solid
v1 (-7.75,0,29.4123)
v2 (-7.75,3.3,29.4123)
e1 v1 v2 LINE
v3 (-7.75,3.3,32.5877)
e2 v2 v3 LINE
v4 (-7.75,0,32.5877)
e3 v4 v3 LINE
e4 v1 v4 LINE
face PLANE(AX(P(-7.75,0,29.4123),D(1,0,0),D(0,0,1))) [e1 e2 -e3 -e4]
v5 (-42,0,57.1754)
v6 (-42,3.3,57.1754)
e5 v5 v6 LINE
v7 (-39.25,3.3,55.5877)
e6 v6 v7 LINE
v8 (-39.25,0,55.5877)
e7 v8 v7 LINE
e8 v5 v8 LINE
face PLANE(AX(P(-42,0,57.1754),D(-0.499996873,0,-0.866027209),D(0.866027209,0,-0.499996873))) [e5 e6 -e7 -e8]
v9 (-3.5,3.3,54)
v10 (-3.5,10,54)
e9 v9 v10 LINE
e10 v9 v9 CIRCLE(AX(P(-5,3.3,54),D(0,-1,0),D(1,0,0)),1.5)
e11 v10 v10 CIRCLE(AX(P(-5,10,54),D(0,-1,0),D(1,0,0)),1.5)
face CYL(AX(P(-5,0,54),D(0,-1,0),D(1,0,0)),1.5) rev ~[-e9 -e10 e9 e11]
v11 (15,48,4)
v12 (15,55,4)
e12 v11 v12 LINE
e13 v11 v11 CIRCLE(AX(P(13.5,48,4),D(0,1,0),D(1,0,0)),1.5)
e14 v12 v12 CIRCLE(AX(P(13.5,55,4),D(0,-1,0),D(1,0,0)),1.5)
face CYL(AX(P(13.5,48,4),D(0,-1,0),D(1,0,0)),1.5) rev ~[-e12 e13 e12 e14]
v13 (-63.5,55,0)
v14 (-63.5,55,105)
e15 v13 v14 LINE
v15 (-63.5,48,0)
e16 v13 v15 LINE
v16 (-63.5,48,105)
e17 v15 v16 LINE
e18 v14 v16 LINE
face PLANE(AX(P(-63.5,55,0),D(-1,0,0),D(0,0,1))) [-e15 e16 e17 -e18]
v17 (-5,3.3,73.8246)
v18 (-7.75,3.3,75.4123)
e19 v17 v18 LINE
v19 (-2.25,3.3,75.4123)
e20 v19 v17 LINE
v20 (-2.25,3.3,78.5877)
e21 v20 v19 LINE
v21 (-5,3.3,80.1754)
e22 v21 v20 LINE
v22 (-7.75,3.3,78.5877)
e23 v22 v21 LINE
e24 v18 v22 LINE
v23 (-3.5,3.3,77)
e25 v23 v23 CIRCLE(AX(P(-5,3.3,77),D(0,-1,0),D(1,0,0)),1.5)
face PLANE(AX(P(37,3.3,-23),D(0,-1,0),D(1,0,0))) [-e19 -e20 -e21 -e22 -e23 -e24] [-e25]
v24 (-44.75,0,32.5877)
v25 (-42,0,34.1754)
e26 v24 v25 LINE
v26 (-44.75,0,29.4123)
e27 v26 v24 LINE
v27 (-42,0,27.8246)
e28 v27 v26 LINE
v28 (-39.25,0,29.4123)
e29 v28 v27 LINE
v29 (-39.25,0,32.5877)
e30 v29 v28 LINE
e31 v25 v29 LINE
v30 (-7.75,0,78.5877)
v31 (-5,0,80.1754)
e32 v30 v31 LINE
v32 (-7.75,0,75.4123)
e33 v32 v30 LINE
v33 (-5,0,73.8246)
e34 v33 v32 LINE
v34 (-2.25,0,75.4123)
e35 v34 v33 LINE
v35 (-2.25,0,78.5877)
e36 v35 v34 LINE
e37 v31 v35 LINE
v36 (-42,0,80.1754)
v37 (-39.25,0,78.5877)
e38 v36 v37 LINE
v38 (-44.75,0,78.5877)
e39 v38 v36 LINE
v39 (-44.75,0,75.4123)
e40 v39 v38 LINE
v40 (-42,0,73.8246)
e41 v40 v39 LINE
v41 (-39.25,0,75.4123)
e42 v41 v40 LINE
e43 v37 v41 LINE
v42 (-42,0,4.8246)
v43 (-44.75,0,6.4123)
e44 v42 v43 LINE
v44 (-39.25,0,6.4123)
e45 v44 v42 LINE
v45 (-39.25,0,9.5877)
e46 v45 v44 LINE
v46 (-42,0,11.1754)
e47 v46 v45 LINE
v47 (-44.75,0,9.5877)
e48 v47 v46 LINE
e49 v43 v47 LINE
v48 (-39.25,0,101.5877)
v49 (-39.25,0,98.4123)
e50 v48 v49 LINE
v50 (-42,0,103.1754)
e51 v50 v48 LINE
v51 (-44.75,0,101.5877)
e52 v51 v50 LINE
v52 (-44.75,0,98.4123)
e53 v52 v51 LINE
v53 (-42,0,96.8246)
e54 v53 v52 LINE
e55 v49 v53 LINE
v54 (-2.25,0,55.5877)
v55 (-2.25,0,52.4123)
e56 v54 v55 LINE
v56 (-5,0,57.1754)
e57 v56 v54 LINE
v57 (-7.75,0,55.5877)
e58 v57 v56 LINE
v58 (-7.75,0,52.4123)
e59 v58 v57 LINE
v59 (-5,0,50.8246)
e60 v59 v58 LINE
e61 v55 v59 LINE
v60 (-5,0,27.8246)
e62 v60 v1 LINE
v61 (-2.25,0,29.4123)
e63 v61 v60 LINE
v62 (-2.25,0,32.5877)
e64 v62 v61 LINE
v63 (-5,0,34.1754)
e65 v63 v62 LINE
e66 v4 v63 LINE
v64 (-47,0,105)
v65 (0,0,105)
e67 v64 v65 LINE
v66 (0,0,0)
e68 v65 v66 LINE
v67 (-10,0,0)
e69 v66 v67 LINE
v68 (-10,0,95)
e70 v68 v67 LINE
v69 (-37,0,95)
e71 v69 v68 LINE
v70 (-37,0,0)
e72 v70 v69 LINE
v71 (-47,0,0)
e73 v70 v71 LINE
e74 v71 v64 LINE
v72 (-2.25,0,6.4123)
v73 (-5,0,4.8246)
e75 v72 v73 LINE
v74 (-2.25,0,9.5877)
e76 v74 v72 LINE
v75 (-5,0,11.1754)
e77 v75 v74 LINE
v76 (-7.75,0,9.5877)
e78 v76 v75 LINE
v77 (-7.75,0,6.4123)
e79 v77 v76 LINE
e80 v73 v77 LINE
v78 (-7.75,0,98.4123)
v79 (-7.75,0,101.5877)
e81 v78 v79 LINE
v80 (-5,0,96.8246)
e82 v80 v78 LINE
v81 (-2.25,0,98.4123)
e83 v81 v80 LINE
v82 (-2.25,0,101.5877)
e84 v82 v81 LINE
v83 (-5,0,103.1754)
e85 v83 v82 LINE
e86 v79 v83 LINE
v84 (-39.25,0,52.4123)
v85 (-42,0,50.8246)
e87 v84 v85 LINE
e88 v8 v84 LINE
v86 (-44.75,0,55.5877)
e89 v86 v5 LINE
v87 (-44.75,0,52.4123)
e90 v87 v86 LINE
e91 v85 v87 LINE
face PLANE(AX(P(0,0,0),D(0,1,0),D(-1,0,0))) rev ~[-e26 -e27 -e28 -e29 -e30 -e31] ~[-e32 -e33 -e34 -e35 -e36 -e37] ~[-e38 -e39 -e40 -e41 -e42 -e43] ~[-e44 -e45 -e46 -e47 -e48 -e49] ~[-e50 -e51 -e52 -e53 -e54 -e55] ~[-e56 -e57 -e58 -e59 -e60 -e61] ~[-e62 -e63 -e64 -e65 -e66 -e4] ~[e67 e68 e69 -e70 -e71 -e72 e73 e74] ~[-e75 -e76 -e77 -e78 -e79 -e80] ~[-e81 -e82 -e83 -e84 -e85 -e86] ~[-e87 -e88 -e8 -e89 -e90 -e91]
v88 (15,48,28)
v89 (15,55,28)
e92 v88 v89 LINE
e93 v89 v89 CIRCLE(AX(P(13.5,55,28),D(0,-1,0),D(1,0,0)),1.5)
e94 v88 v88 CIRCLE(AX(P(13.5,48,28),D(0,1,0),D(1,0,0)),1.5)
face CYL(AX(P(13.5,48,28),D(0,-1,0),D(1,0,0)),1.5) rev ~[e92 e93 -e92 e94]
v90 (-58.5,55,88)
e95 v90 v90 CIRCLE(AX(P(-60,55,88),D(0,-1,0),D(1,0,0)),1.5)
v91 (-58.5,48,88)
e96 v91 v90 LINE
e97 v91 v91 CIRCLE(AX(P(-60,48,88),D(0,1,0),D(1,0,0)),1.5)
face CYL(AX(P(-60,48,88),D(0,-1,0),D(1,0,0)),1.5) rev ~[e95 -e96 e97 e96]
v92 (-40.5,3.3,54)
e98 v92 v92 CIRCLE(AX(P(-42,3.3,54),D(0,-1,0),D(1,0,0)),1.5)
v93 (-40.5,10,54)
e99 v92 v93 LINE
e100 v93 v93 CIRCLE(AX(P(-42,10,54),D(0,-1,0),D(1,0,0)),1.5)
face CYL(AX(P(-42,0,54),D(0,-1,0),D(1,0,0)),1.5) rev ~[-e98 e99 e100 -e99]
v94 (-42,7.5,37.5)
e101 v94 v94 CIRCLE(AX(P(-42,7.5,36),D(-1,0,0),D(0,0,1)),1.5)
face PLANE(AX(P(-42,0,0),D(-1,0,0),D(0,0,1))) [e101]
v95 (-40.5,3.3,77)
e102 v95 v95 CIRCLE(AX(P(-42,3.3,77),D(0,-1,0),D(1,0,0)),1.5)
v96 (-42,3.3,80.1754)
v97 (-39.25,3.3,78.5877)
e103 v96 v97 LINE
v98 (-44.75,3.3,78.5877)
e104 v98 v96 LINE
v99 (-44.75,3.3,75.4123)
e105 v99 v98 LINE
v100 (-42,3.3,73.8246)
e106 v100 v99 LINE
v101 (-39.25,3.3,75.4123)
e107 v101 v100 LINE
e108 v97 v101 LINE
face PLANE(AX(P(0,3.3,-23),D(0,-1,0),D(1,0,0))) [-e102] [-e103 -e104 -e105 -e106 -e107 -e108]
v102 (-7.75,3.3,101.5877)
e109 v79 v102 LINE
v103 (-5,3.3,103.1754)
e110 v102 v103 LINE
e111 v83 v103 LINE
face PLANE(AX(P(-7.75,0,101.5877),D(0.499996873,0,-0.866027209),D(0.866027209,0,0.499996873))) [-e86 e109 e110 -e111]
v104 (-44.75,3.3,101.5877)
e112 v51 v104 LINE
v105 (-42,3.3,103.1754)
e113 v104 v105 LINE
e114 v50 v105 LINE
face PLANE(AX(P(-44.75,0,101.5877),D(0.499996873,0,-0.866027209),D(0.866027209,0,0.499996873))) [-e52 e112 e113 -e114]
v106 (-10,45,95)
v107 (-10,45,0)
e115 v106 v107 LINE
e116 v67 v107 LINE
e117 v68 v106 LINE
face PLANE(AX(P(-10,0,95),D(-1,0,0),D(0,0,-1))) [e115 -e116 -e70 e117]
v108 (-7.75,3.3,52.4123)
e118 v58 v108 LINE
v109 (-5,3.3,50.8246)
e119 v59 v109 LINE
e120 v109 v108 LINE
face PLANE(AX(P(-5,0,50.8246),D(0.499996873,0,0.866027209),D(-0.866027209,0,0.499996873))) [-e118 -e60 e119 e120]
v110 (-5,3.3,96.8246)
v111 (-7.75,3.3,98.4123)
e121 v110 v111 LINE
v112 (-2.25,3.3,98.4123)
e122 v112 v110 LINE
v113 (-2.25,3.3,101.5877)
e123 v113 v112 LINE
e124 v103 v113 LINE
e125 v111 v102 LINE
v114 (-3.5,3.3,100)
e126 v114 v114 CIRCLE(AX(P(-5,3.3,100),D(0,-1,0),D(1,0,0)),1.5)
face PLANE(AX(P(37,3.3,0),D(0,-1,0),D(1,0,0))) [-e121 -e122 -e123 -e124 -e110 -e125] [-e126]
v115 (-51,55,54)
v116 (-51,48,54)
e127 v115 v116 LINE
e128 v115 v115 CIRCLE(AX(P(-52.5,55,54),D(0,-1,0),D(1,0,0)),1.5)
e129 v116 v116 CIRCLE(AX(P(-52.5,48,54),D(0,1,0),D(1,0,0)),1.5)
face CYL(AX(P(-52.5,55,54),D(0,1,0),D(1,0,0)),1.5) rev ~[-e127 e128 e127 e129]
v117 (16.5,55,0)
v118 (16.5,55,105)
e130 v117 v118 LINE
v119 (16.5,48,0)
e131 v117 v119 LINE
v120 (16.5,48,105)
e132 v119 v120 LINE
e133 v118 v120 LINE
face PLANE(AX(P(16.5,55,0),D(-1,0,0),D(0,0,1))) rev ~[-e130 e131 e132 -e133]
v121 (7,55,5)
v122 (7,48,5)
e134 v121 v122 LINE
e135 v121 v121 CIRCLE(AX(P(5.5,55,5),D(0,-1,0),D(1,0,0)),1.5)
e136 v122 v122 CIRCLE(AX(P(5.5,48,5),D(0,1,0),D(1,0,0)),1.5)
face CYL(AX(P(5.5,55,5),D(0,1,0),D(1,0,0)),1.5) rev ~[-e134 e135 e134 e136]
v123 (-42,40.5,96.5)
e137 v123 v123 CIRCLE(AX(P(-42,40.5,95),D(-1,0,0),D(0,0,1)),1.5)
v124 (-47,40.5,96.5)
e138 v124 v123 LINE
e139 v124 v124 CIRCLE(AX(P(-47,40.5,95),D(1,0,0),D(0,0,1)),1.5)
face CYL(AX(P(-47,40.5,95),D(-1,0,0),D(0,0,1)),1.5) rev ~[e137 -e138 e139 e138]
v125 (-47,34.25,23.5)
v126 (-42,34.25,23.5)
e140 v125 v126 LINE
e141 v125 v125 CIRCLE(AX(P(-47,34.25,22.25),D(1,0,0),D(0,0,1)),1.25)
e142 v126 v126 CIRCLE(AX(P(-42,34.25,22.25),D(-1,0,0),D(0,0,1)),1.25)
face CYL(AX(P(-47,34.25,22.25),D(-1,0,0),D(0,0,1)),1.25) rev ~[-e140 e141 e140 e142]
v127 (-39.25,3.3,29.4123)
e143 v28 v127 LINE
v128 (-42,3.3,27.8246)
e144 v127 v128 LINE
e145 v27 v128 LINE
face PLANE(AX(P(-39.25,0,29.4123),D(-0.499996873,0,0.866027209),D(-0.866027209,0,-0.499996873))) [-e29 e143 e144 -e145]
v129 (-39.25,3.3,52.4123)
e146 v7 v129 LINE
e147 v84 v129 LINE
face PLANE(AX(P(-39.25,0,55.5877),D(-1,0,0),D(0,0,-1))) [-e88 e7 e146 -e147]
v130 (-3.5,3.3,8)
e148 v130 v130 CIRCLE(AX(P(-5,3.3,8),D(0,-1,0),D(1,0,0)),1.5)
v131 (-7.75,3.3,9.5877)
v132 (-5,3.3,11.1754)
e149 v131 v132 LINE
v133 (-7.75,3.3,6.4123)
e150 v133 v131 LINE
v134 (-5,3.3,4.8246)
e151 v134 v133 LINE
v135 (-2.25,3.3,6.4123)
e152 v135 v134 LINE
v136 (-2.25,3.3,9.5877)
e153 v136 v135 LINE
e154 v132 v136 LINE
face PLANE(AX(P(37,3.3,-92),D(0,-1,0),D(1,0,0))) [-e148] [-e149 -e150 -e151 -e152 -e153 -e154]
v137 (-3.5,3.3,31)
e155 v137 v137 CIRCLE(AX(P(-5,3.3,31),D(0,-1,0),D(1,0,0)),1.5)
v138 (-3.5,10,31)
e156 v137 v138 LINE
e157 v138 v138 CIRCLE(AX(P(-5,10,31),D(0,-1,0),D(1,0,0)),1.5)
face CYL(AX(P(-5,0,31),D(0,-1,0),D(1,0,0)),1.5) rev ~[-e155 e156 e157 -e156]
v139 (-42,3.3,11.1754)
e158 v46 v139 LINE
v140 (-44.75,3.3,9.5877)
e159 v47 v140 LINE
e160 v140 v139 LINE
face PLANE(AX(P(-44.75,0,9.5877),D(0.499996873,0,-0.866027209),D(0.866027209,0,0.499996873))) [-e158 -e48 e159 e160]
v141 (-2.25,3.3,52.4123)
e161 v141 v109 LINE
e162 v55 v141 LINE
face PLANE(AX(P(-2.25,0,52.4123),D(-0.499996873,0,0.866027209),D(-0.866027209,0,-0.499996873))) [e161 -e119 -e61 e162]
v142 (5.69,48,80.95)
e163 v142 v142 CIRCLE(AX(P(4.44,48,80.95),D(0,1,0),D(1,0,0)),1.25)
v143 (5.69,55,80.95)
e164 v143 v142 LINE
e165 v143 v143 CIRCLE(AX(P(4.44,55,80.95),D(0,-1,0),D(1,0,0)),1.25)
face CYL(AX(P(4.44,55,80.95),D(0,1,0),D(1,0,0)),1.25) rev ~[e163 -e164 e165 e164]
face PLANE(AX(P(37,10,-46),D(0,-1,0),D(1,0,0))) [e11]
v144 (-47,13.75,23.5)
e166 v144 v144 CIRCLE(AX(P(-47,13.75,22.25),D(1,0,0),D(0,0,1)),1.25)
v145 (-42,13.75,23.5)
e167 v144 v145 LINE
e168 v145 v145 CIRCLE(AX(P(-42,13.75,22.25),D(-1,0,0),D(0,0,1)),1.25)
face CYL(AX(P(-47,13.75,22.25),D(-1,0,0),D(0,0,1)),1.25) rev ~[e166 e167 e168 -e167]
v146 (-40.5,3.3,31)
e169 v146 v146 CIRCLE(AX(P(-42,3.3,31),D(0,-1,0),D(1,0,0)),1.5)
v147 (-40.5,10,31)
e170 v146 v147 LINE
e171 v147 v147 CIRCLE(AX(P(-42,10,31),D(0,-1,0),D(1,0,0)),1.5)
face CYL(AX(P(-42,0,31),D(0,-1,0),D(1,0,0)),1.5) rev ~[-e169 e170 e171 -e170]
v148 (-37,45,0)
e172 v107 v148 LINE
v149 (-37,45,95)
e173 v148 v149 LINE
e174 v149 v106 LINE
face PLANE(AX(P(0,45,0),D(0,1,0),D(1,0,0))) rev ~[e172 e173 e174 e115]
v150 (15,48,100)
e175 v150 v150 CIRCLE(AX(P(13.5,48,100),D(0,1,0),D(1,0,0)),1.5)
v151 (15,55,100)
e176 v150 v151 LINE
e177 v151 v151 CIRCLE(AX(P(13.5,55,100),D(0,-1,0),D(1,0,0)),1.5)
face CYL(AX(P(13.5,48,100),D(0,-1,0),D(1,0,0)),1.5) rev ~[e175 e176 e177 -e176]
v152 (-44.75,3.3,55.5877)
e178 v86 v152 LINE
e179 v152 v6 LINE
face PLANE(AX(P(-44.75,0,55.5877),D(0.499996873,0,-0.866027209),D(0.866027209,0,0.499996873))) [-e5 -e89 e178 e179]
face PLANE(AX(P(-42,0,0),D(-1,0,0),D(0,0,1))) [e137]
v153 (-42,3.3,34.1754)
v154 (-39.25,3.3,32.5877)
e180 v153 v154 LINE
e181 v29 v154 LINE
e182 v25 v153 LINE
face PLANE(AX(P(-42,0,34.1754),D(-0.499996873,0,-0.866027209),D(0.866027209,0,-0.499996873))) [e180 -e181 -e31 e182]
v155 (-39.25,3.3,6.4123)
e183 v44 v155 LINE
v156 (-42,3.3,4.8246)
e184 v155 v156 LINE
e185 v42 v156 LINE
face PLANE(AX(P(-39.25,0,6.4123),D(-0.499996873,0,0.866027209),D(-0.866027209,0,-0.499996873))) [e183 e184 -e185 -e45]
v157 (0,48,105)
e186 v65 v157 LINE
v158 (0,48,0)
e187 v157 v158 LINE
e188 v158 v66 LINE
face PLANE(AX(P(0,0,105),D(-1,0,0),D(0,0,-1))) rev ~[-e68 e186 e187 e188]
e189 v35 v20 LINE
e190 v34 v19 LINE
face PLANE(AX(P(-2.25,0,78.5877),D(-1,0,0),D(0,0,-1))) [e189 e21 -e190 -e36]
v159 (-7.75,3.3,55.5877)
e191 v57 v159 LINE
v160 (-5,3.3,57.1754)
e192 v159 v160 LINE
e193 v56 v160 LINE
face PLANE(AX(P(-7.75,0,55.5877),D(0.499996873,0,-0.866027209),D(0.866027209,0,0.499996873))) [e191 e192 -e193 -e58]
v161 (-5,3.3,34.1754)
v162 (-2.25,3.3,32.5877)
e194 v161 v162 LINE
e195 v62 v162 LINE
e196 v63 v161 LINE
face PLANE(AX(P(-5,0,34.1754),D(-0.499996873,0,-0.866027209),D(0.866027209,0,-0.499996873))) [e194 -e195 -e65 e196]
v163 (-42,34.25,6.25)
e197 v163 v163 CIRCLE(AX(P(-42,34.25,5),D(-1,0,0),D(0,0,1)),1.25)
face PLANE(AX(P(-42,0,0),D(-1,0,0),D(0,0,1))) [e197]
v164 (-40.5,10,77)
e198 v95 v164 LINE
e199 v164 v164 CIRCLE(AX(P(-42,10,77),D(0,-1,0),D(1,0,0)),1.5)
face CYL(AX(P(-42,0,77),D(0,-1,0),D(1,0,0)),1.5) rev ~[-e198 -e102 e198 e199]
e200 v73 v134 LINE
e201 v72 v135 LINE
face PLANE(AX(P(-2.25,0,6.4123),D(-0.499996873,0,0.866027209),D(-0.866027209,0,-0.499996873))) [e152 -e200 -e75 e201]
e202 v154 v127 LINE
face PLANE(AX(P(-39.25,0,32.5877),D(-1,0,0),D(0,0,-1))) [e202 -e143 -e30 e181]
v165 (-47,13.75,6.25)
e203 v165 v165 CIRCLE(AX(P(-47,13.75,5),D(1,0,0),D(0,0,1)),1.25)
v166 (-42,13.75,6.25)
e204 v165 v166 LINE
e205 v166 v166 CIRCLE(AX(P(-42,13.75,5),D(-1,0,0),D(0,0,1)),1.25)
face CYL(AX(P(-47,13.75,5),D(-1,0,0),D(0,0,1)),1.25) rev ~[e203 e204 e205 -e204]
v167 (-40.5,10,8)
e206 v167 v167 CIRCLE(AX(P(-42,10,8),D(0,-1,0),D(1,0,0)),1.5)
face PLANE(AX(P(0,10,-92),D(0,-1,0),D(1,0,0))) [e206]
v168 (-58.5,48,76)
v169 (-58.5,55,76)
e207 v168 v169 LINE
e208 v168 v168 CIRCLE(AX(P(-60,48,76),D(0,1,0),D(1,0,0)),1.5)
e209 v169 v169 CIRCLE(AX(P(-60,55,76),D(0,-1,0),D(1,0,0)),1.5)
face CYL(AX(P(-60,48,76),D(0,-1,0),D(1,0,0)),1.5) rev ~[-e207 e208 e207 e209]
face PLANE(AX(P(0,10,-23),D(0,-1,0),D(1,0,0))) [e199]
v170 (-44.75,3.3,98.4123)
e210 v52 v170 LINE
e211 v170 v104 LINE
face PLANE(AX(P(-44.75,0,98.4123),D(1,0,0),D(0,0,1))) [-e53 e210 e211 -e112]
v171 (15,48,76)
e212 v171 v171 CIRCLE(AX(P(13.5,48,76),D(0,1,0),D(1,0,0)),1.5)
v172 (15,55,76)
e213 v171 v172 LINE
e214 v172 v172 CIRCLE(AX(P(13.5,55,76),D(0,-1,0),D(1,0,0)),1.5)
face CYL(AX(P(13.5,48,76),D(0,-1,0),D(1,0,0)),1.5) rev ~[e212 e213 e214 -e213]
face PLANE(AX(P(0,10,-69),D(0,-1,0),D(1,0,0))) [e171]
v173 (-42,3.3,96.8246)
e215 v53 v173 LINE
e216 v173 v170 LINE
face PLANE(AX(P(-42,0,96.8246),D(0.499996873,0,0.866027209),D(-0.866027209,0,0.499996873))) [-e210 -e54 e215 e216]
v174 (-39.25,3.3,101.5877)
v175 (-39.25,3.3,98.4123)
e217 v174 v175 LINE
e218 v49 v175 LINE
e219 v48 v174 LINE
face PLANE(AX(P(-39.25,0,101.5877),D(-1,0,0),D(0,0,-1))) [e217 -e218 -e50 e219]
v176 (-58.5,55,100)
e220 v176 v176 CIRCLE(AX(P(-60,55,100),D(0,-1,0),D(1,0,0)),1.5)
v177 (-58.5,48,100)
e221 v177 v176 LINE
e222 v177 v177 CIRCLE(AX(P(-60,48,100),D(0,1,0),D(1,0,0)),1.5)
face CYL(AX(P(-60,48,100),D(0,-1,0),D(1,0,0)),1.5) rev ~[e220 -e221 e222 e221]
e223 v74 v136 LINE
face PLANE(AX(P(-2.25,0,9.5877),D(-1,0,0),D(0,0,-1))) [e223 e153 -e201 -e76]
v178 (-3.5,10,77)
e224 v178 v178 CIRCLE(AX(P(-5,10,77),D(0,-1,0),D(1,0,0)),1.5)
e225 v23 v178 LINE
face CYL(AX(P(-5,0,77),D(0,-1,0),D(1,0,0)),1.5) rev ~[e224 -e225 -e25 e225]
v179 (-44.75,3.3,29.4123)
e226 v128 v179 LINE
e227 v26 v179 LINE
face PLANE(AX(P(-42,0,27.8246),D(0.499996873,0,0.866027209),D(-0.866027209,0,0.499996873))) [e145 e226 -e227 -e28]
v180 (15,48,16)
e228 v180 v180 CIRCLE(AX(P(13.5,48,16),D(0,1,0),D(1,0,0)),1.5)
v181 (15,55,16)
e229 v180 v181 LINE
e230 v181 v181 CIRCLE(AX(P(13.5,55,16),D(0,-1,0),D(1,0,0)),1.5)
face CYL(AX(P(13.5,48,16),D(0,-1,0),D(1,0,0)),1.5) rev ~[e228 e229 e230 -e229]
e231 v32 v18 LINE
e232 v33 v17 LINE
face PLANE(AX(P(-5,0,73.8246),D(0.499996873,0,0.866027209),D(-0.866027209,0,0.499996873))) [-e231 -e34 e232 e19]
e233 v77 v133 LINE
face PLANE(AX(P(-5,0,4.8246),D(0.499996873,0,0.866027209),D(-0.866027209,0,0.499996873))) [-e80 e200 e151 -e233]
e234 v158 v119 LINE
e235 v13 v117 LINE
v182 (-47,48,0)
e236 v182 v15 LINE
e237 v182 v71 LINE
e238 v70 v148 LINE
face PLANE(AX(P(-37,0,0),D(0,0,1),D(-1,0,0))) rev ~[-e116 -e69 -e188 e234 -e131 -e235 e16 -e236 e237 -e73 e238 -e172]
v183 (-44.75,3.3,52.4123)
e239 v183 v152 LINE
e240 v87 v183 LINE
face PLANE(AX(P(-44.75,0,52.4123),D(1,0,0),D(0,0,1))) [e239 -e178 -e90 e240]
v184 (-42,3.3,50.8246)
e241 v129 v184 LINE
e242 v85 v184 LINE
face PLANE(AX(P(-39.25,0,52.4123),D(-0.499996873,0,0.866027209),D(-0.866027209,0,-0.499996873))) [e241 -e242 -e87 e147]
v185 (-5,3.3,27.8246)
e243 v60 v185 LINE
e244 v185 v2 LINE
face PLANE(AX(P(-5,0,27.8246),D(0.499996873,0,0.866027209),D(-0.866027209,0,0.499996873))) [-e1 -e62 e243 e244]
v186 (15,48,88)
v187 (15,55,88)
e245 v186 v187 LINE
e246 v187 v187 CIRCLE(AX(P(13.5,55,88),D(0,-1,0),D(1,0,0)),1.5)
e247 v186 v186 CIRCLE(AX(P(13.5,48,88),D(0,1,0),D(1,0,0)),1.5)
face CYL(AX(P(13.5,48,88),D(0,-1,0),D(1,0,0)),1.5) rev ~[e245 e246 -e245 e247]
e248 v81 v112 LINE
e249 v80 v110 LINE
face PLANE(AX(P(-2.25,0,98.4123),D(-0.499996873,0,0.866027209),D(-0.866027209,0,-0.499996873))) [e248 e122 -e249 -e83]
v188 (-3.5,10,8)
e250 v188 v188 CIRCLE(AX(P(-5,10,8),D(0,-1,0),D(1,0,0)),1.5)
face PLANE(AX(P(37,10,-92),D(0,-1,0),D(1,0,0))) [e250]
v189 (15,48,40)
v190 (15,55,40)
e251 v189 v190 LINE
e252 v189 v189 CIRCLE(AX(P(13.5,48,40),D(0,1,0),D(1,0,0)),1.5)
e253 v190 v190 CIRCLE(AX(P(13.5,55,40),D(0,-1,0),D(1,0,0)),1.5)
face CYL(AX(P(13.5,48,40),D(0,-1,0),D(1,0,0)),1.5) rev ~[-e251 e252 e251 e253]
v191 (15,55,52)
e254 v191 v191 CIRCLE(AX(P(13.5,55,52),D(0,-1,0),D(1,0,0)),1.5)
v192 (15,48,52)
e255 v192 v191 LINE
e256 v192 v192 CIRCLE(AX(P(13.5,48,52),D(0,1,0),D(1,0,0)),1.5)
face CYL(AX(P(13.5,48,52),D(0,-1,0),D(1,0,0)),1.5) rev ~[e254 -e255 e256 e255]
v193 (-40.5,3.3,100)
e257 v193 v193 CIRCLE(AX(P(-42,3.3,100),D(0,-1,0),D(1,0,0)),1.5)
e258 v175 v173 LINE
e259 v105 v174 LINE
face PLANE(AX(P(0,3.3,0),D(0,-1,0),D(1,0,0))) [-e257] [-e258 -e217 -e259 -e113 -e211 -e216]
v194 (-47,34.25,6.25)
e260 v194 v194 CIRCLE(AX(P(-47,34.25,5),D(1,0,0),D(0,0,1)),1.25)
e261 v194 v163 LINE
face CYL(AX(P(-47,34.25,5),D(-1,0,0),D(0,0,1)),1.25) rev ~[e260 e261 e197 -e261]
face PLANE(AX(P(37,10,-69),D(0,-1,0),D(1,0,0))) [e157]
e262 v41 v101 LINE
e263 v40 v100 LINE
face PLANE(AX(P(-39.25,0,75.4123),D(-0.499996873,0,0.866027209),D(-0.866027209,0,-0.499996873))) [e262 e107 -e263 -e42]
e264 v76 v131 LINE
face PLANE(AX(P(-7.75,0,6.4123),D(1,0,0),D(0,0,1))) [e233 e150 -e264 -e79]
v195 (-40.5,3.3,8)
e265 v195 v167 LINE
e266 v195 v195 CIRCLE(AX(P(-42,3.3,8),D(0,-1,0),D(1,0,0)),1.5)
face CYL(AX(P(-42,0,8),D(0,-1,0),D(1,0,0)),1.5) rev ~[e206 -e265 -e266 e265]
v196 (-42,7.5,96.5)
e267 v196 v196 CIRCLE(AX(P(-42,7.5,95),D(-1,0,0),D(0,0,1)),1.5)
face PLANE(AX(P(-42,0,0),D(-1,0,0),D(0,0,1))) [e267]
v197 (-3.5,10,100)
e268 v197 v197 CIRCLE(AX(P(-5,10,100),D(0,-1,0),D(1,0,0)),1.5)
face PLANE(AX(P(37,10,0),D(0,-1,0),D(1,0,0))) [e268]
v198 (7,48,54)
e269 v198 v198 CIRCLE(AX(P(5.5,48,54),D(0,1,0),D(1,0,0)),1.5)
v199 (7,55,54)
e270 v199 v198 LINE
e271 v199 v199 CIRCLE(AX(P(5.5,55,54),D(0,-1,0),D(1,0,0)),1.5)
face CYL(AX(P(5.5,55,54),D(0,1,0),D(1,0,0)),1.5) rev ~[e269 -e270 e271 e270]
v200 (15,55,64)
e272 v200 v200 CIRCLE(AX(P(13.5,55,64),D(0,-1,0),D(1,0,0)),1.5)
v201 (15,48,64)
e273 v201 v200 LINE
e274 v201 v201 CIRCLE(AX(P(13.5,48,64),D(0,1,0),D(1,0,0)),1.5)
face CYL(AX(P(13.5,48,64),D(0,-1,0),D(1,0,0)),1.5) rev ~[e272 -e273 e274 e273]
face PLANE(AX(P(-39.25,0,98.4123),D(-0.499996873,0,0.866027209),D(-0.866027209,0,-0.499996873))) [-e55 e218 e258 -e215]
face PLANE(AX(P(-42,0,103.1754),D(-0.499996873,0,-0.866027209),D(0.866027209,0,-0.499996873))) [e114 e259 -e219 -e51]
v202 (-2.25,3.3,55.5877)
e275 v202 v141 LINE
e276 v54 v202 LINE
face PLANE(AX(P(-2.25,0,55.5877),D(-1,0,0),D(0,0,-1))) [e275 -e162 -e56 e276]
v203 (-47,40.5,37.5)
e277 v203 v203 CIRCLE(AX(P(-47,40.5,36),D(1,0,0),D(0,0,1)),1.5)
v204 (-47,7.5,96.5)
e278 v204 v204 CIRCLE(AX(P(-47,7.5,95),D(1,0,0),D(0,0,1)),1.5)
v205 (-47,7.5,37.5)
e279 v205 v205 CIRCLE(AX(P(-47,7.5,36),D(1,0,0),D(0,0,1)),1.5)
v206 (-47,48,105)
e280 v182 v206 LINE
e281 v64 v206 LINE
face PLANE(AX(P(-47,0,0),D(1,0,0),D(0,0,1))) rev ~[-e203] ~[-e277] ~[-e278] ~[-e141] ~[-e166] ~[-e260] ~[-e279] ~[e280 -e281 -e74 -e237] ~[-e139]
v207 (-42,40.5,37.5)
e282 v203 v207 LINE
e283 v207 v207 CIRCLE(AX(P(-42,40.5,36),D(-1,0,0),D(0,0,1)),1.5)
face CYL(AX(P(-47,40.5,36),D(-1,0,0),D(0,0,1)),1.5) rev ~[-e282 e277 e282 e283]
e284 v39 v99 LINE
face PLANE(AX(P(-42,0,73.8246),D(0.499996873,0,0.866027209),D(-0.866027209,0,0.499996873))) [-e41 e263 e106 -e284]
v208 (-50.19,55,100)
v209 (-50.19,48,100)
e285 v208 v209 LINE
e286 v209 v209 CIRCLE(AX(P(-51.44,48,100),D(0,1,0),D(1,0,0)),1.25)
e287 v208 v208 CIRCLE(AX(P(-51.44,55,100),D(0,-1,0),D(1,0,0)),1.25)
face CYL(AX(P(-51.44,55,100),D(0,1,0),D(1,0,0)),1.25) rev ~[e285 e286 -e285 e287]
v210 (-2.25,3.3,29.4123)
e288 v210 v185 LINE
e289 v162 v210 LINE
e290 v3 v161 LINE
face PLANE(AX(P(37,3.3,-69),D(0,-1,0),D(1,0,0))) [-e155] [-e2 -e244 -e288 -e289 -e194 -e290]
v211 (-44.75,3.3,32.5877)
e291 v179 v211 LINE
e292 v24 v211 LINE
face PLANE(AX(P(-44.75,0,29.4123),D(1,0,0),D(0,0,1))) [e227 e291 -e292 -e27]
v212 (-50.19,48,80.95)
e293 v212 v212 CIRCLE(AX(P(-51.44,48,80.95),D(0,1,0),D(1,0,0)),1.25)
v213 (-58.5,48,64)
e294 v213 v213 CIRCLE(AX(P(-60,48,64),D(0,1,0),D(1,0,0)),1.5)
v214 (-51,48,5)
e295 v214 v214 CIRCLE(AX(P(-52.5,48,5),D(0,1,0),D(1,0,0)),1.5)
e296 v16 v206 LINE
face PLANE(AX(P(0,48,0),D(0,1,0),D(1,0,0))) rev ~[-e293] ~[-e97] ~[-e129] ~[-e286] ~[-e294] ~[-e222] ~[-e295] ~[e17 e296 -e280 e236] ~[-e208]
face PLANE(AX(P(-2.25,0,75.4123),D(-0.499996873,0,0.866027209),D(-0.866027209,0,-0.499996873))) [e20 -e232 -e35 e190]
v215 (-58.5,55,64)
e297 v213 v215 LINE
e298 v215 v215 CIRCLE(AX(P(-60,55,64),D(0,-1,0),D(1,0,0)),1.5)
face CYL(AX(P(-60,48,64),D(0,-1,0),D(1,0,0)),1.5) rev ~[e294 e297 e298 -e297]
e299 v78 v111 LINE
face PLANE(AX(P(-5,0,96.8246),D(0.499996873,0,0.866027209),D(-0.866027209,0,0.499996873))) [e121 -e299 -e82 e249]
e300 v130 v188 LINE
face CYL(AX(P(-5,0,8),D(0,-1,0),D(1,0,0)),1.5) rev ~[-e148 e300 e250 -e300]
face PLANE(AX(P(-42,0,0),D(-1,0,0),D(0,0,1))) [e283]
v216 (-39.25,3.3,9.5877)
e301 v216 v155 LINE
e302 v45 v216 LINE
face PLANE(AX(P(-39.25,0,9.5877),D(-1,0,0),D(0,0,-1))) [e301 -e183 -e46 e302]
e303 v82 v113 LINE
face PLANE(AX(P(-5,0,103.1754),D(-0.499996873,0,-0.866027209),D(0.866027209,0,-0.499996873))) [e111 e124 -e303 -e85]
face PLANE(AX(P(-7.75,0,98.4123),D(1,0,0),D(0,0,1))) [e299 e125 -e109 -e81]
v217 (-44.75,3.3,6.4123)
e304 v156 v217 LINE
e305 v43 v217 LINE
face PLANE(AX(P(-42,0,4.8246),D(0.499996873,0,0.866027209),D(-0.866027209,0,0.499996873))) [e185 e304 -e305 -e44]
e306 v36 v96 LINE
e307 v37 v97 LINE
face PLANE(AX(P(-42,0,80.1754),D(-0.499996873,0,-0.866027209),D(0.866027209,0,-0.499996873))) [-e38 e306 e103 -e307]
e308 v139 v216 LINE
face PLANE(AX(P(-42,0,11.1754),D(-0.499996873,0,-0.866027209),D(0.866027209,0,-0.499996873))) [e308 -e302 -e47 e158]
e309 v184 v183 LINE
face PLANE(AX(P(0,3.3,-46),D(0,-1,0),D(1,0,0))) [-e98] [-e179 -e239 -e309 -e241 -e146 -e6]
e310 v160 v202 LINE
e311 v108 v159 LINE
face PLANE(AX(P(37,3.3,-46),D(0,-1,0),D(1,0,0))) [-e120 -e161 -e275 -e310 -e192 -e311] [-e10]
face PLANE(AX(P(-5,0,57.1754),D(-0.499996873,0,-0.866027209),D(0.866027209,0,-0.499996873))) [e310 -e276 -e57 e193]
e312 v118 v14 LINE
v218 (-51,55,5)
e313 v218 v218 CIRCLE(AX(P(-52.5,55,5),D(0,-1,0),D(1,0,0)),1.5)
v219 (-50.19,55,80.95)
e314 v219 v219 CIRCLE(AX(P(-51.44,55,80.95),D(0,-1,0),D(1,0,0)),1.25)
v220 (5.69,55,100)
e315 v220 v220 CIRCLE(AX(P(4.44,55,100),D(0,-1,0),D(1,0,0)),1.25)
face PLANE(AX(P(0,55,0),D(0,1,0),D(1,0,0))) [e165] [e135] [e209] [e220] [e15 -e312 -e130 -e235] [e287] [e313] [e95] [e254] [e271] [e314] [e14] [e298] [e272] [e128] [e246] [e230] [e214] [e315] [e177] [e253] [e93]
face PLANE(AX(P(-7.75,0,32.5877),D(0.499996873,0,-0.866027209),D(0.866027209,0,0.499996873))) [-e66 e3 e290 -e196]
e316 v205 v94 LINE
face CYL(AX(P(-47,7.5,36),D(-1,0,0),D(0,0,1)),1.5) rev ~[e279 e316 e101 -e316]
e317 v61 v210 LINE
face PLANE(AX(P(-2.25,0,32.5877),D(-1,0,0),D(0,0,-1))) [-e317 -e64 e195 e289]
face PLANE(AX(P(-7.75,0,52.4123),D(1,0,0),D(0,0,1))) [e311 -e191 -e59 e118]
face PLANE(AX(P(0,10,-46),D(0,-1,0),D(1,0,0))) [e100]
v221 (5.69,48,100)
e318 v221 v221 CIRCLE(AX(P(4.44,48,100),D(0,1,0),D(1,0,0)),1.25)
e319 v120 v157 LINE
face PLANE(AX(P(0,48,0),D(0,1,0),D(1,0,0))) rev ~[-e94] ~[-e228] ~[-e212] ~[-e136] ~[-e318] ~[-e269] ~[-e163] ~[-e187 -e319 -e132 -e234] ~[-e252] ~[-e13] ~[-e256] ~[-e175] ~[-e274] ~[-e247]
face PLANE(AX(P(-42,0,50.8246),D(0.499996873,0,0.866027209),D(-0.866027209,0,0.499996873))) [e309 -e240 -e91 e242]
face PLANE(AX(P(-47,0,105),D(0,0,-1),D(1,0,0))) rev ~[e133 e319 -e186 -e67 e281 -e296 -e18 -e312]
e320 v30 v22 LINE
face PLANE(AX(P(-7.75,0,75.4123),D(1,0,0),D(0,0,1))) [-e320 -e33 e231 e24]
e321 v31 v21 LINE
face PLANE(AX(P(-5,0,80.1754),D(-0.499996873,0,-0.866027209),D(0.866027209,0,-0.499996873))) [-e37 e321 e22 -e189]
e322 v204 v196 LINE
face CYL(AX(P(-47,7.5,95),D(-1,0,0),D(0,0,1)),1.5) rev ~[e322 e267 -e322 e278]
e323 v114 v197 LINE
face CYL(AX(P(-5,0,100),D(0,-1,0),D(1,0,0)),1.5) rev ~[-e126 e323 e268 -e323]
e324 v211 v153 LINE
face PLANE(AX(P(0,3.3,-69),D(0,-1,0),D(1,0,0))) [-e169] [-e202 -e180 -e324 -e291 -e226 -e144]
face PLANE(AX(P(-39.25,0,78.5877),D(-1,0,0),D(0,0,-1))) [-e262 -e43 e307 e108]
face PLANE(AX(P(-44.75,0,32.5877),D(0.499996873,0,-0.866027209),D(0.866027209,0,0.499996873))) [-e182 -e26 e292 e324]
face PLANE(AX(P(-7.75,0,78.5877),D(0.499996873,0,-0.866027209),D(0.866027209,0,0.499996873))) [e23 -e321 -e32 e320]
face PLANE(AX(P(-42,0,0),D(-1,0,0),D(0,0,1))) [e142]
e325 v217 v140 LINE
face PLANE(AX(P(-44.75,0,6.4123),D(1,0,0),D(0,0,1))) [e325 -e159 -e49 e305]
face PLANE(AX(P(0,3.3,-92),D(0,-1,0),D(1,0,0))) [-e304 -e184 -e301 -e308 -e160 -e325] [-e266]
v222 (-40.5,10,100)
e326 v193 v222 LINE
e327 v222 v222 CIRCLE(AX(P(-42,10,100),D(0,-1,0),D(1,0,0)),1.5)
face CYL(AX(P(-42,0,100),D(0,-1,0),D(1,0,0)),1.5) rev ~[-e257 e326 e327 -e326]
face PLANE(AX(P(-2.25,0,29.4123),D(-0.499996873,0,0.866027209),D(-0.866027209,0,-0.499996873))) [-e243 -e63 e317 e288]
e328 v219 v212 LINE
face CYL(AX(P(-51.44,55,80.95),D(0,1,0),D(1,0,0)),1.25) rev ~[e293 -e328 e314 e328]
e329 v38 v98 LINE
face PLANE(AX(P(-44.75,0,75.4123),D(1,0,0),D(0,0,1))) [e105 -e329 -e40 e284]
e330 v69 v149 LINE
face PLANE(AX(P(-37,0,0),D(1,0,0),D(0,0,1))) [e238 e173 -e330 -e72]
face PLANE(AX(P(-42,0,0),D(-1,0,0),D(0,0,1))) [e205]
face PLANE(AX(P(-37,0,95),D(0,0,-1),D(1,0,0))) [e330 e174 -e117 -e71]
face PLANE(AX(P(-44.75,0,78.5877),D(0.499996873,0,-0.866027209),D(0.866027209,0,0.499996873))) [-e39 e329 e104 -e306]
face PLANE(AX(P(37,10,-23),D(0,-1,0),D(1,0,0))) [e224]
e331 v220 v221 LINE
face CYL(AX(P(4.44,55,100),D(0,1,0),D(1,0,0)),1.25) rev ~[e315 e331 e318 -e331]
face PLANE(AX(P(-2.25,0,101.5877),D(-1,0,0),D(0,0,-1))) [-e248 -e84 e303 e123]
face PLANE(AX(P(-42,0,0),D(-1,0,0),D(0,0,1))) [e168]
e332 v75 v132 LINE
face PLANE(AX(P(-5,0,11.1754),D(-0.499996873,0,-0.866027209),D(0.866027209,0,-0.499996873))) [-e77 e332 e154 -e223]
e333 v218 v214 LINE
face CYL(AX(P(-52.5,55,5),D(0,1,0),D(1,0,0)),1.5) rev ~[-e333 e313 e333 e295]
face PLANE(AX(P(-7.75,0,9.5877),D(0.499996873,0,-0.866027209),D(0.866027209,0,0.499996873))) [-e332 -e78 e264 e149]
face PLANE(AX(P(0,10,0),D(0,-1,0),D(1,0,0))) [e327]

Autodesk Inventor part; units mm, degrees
ref_plane "YZ Plane" through (0, 0, 0) normal (1, 0, 0) x (0, 1, 0)
ref_plane "XZ Plane" through (0, 0, 0) normal (0, 1, 0) x (-1, 0, 0)
ref_plane "XY Plane" through (0, 0, 0) normal (0, 0, 1) x (1, 0, 0)
sketch "Sketch3" plane through (0, 0, 0) normal (0, 1, 0) x (-1, 0, 0)
  line L0 (47, 105) -> (0, 105)
  line L1 (0, 105) -> (0, 0)
  line L2 (0, 0) -> (47, 0)
  line L3 (47, 0) -> (47, 105)
  line L4 (37, 95) -> (10, 95)
  line L5 (10, 95) -> (10, 0)
  line L6 (10, 0) -> (37, 0)
  line L7 (37, 0) -> (37, 95)
  point P0 (37, 0)
  dimension "d8" = 10
  dimension "d9" = 10
  dimension "d10" = 10
  dimension "d11" = 27
  dimension "d12" = 95
extrude "Extrusion1" add sketch "Sketch3" along normal blind 45 contours L3 L2 L7 L4 L5 L1 L0
sketch "Sketch4" plane through (0, 45, 0) normal (0, 1, 0) x (1, 0, 0)
  line L0 (-47, 0) -> (-47, -105) projected
  line L1 (0, -105) -> (0, 0) projected
  line L2 (-47, -105) -> (0, -105)
  line L3 (0, -105) -> (0, 0)
  line L4 (0, 0) -> (-47, 0)
  line L5 (-47, 0) -> (-47, -105)
  point P0 (0, -105)
extrude "Extrusion2" add sketch "Sketch4" along normal blind 10
sketch "Sketch5" plane through (0, 55, 0) normal (0, 1, 0) x (1, 0, 0)
  line L0 (0, 0) -> (-10, 0) projected
  line L1 (0, 0) -> (16.5, 0)
  line L2 (16.5, 0) -> (16.5, -105)
  line L3 (16.5, -105) -> (0, -105)
  line L4 (0, -105) -> (0, 0)
  line L5 (-47, 0) -> (-47, -105) projected
  line L6 (-47, 0) -> (-63.5, 0)
  line L7 (-63.5, 0) -> (-63.5, -105)
  line L8 (-63.5, -105) -> (-47, -105)
  line L9 (-47, -105) -> (-47, 0)
  line L10 (0, 0) -> (-47, 0) projected
  point P0 (-23.5, 0)
  dimension "d17" = 40
  dimension "d18" = 80
extrude "Extrusion3" add sketch "Sketch5" against normal blind 7
sketch "Sketch7" plane through (0, 0, 0) normal (0, -1, 0) x (1, 0, 0)
  line L0 (-42, 0) -> (-5, 0)
  line L1 (-5, 0) -> (-5, 100)
  line L2 (-5, 100) -> (-42, 100)
  line L3 (-42, 100) -> (-42, 0)
  line L4 (-47, 0) -> (-47, 105) projected
  line L5 (0, 105) -> (0, 0) projected
  line L6 (-47, 105) -> (0, 105) projected
  circle A0 centre (-42, 100) radius 1.5
  dimension "d21" = 5
  dimension "d22" = 5
  dimension "d23" = 5
  dimension "d24" = 3
extrude "Extrusion4" cut sketch "Sketch7" against normal blind 10 contours A0 L2 L3 | L3 L2 A0
sketch "Sketch8" plane through (0, 0, 0) normal (0, -1, 0) x (1, 0, 0)
  circle A0 centre (-42, 100) radius 1.5 projected
  line L0 (-42, 103.1754) -> (-39.25, 101.5877)
  line L1 (-39.25, 101.5877) -> (-39.25, 98.4123)
  line L2 (-39.25, 98.4123) -> (-42, 96.8246)
  line L3 (-42, 96.8246) -> (-44.75, 98.4123)
  line L4 (-44.75, 98.4123) -> (-44.75, 101.5877)
  line L5 (-44.75, 101.5877) -> (-42, 103.1754)
  line L6 (-47, 0) -> (-47, 105) projected
  point P0 (0, 0)
  point P1 (-39.25, 100)
  dimension "d27" = 5.5
extrude "Extrusion5" cut sketch "Sketch8" against normal blind 3.3
pattern_linear "Rectangular Pattern1" count 5 spacing 23 along (0, 0, -1) count 2 spacing 37 along (1, 0, 0) of "Extrusion4", "Extrusion5"
sketch "Sketch9" plane through (-47, 0, 0) normal (-1, 0, 0) x (0, 0, 1)
  line L0 (36, 40.5) -> (95, 40.5)
  line L1 (95, 40.5) -> (95, 7.5)
  line L2 (95, 7.5) -> (36, 7.5)
  line L3 (36, 7.5) -> (36, 40.5)
  line L4 (98.5, 3.3) -> (101.5, 3.3) projected
  line L5 (101.5, 10) -> (98.5, 10) projected
  line L6 (0, 0) -> (105, 0) projected
  line L7 (105, 0) -> (105, 48) projected
  circle A0 centre (36, 40.5) radius 1.5
  circle A1 centre (95, 40.5) radius 1.5
  circle A2 centre (95, 7.5) radius 1.5
  circle A3 centre (36, 7.5) radius 1.5
  point P0 (95, 24)
  dimension "d36" = 33
  dimension "d38" = 24
  dimension "d39" = 10
  dimension "d40" = 59
  dimension "d41" = 3
  dimension "d42" = 3
  dimension "d43" = 3
  dimension "d44" = 3
extrude "Extrusion6" cut sketch "Sketch9" against normal blind 5 contours L3 A0 L0 | L0 A0 L3 | A1 L1 L0 | L0 L1 A1 | A3 L2 L3 | L3 L2 A3 | A2 L2 L1 | L1 L2 A2
sketch "Sketch10" plane through (-47, 0, 0) normal (-1, 0, 0) x (0, 0, 1)
  line L0 (5, 34.25) -> (22.25, 34.25)
  line L1 (22.25, 34.25) -> (22.25, 13.75)
  line L2 (22.25, 13.75) -> (5, 13.75)
  line L3 (5, 13.75) -> (5, 34.25)
  line L4 (0, 0) -> (105, 0) projected
  line L5 (0, 0) -> (0, 48) projected
  circle A0 centre (5, 34.25) radius 1.25
  circle A1 centre (22.25, 34.25) radius 1.25
  circle A2 centre (5, 13.75) radius 1.25
  circle A3 centre (22.25, 13.75) radius 1.25
  point P0 (5, 24)
  point P1 (0, 24)
  dimension "d47" = 17.25
  dimension "d48" = 20.5
  dimension "d49" = 24
  dimension "d50" = 5
  dimension "d51" = 2.5
  dimension "d52" = 2.5
  dimension "d53" = 2.5
  dimension "d54" = 2.5
extrude "Extrusion7" cut sketch "Sketch10" against normal blind 5 contours L3 A0 L0 | L0 A0 L3 | A1 L1 L0 | L0 L1 A1 | A2 L2 L3 | L3 L2 A2 | A3 L2 L1 | L1 L2 A3
sketch "Sketch11" plane through (0, 55, 0) normal (0, 1, 0) x (1, 0, 0)
  line L0 (-51.44, -100) -> (4.44, -100)
  line L1 (4.44, -100) -> (4.44, -80.95)
  line L2 (4.44, -80.95) -> (-51.44, -80.95)
  line L3 (-51.44, -80.95) -> (-51.44, -100)
  line L4 (-52.5, -54) -> (5.5, -54)
  line L5 (5.5, -54) -> (5.5, -5)
  line L6 (5.5, -5) -> (-52.5, -5)
  line L7 (-52.5, -5) -> (-52.5, -54)
  line L8 (16.5, -105) -> (16.5, 0) projected
  line L9 (16.5, 0) -> (-63.5, 0) projected
  line L10 (-63.5, -105) -> (16.5, -105) projected
  circle A0 centre (-51.44, -100) radius 1.25
  circle A1 centre (-51.44, -80.95) radius 1.25
  circle A2 centre (4.44, -100) radius 1.25
  circle A3 centre (4.44, -80.95) radius 1.25
  circle A4 centre (-52.5, -54) radius 1.5
  line L11 (5.5, 44) -> (-52.5, 44)
  circle A5 centre (-52.5, -5) radius 1.5
  line L12 (63.5, -5) -> (5.5, -5)
  circle A6 centre (5.5, -54) radius 1.5
  line L13 (63.5, 44) -> (5.5, 44)
  circle A7 centre (5.5, -5) radius 1.5
  point P0 (0, 0)
  point P1 (-23.5, -5)
  point P2 (-23.5, -100)
  point P3 (-23.5, 44)
  point P4 (34.5, -5)
  point P5 (34.5, 44)
  dimension "d57" = 58
  dimension "d58" = 40
  dimension "d59" = 49
  dimension "d60" = 5
  dimension "d61" = 5
  dimension "d62" = 19.05
  dimension "d63" = 55.88
  dimension "d64" = 40
  dimension "d65" = 2.5
  dimension "d68" = 19.05
  dimension "d71" = 55.88
  dimension "d74" = 3
  dimension "d77" = 49
  dimension "d80" = 58
extrude "Extrusion8" cut sketch "Sketch11" against normal up to next contours L3 A0 L0 | L0 A0 L3 | A2 L1 L0 | L0 L1 A2 | A1 L2 L3 | L3 L2 A1 | A3 L2 L1 | L1 L2 A3 | L7 A4 L4 | L4 A4 L7 | A6 L5 L4 | L4 L5 A6 | A5 L6 L7 | L7 L6 A5 | A7 L6 L5 | L5 L12 A7 | A7 L12 L6
sketch "Sketch12" plane through (0, 48, 0) normal (0, -1, 0) x (1, 0, 0)
  line L0 (-60, 100) -> (13.5, 100)
  line L1 (13.5, 100) -> (13.5, 0)
  line L2 (13.5, 0) -> (-60, 0)
  line L3 (-60, 0) -> (-60, 100)
  line L4 (-47, 105) -> (-63.5, 105) projected
  line L5 (-63.5, 105) -> (-63.5, 0) projected
  line L6 (16.5, 0) -> (16.5, 105) projected
  circle A0 centre (-60, 100) radius 1.5
  circle A1 centre (13.5, 100) radius 1.5
  point P0 (0, 0)
  point P1 (-55.25, 105)
  dimension "d85" = 5
  dimension "d86" = 3.5
  dimension "d87" = 3
  dimension "d88" = 3
  dimension "d89" = 3
extrude "Extrusion9" cut sketch "Sketch12" against normal up to next contours L3 A0 L0 | L0 A0 L3
pattern_linear "Rectangular Pattern2" count 4 spacing 12 along (0, 0, -1) of "Extrusion9"
extrude "Extrusion10" cut sketch "Sketch12" against normal up to next contours A1 L1 L0 | L0 L1 A1
pattern_linear "Rectangular Pattern3" count 9 spacing 12 along (0, 0, -1) of "Extrusion10"
properties part number "battery_holder"
